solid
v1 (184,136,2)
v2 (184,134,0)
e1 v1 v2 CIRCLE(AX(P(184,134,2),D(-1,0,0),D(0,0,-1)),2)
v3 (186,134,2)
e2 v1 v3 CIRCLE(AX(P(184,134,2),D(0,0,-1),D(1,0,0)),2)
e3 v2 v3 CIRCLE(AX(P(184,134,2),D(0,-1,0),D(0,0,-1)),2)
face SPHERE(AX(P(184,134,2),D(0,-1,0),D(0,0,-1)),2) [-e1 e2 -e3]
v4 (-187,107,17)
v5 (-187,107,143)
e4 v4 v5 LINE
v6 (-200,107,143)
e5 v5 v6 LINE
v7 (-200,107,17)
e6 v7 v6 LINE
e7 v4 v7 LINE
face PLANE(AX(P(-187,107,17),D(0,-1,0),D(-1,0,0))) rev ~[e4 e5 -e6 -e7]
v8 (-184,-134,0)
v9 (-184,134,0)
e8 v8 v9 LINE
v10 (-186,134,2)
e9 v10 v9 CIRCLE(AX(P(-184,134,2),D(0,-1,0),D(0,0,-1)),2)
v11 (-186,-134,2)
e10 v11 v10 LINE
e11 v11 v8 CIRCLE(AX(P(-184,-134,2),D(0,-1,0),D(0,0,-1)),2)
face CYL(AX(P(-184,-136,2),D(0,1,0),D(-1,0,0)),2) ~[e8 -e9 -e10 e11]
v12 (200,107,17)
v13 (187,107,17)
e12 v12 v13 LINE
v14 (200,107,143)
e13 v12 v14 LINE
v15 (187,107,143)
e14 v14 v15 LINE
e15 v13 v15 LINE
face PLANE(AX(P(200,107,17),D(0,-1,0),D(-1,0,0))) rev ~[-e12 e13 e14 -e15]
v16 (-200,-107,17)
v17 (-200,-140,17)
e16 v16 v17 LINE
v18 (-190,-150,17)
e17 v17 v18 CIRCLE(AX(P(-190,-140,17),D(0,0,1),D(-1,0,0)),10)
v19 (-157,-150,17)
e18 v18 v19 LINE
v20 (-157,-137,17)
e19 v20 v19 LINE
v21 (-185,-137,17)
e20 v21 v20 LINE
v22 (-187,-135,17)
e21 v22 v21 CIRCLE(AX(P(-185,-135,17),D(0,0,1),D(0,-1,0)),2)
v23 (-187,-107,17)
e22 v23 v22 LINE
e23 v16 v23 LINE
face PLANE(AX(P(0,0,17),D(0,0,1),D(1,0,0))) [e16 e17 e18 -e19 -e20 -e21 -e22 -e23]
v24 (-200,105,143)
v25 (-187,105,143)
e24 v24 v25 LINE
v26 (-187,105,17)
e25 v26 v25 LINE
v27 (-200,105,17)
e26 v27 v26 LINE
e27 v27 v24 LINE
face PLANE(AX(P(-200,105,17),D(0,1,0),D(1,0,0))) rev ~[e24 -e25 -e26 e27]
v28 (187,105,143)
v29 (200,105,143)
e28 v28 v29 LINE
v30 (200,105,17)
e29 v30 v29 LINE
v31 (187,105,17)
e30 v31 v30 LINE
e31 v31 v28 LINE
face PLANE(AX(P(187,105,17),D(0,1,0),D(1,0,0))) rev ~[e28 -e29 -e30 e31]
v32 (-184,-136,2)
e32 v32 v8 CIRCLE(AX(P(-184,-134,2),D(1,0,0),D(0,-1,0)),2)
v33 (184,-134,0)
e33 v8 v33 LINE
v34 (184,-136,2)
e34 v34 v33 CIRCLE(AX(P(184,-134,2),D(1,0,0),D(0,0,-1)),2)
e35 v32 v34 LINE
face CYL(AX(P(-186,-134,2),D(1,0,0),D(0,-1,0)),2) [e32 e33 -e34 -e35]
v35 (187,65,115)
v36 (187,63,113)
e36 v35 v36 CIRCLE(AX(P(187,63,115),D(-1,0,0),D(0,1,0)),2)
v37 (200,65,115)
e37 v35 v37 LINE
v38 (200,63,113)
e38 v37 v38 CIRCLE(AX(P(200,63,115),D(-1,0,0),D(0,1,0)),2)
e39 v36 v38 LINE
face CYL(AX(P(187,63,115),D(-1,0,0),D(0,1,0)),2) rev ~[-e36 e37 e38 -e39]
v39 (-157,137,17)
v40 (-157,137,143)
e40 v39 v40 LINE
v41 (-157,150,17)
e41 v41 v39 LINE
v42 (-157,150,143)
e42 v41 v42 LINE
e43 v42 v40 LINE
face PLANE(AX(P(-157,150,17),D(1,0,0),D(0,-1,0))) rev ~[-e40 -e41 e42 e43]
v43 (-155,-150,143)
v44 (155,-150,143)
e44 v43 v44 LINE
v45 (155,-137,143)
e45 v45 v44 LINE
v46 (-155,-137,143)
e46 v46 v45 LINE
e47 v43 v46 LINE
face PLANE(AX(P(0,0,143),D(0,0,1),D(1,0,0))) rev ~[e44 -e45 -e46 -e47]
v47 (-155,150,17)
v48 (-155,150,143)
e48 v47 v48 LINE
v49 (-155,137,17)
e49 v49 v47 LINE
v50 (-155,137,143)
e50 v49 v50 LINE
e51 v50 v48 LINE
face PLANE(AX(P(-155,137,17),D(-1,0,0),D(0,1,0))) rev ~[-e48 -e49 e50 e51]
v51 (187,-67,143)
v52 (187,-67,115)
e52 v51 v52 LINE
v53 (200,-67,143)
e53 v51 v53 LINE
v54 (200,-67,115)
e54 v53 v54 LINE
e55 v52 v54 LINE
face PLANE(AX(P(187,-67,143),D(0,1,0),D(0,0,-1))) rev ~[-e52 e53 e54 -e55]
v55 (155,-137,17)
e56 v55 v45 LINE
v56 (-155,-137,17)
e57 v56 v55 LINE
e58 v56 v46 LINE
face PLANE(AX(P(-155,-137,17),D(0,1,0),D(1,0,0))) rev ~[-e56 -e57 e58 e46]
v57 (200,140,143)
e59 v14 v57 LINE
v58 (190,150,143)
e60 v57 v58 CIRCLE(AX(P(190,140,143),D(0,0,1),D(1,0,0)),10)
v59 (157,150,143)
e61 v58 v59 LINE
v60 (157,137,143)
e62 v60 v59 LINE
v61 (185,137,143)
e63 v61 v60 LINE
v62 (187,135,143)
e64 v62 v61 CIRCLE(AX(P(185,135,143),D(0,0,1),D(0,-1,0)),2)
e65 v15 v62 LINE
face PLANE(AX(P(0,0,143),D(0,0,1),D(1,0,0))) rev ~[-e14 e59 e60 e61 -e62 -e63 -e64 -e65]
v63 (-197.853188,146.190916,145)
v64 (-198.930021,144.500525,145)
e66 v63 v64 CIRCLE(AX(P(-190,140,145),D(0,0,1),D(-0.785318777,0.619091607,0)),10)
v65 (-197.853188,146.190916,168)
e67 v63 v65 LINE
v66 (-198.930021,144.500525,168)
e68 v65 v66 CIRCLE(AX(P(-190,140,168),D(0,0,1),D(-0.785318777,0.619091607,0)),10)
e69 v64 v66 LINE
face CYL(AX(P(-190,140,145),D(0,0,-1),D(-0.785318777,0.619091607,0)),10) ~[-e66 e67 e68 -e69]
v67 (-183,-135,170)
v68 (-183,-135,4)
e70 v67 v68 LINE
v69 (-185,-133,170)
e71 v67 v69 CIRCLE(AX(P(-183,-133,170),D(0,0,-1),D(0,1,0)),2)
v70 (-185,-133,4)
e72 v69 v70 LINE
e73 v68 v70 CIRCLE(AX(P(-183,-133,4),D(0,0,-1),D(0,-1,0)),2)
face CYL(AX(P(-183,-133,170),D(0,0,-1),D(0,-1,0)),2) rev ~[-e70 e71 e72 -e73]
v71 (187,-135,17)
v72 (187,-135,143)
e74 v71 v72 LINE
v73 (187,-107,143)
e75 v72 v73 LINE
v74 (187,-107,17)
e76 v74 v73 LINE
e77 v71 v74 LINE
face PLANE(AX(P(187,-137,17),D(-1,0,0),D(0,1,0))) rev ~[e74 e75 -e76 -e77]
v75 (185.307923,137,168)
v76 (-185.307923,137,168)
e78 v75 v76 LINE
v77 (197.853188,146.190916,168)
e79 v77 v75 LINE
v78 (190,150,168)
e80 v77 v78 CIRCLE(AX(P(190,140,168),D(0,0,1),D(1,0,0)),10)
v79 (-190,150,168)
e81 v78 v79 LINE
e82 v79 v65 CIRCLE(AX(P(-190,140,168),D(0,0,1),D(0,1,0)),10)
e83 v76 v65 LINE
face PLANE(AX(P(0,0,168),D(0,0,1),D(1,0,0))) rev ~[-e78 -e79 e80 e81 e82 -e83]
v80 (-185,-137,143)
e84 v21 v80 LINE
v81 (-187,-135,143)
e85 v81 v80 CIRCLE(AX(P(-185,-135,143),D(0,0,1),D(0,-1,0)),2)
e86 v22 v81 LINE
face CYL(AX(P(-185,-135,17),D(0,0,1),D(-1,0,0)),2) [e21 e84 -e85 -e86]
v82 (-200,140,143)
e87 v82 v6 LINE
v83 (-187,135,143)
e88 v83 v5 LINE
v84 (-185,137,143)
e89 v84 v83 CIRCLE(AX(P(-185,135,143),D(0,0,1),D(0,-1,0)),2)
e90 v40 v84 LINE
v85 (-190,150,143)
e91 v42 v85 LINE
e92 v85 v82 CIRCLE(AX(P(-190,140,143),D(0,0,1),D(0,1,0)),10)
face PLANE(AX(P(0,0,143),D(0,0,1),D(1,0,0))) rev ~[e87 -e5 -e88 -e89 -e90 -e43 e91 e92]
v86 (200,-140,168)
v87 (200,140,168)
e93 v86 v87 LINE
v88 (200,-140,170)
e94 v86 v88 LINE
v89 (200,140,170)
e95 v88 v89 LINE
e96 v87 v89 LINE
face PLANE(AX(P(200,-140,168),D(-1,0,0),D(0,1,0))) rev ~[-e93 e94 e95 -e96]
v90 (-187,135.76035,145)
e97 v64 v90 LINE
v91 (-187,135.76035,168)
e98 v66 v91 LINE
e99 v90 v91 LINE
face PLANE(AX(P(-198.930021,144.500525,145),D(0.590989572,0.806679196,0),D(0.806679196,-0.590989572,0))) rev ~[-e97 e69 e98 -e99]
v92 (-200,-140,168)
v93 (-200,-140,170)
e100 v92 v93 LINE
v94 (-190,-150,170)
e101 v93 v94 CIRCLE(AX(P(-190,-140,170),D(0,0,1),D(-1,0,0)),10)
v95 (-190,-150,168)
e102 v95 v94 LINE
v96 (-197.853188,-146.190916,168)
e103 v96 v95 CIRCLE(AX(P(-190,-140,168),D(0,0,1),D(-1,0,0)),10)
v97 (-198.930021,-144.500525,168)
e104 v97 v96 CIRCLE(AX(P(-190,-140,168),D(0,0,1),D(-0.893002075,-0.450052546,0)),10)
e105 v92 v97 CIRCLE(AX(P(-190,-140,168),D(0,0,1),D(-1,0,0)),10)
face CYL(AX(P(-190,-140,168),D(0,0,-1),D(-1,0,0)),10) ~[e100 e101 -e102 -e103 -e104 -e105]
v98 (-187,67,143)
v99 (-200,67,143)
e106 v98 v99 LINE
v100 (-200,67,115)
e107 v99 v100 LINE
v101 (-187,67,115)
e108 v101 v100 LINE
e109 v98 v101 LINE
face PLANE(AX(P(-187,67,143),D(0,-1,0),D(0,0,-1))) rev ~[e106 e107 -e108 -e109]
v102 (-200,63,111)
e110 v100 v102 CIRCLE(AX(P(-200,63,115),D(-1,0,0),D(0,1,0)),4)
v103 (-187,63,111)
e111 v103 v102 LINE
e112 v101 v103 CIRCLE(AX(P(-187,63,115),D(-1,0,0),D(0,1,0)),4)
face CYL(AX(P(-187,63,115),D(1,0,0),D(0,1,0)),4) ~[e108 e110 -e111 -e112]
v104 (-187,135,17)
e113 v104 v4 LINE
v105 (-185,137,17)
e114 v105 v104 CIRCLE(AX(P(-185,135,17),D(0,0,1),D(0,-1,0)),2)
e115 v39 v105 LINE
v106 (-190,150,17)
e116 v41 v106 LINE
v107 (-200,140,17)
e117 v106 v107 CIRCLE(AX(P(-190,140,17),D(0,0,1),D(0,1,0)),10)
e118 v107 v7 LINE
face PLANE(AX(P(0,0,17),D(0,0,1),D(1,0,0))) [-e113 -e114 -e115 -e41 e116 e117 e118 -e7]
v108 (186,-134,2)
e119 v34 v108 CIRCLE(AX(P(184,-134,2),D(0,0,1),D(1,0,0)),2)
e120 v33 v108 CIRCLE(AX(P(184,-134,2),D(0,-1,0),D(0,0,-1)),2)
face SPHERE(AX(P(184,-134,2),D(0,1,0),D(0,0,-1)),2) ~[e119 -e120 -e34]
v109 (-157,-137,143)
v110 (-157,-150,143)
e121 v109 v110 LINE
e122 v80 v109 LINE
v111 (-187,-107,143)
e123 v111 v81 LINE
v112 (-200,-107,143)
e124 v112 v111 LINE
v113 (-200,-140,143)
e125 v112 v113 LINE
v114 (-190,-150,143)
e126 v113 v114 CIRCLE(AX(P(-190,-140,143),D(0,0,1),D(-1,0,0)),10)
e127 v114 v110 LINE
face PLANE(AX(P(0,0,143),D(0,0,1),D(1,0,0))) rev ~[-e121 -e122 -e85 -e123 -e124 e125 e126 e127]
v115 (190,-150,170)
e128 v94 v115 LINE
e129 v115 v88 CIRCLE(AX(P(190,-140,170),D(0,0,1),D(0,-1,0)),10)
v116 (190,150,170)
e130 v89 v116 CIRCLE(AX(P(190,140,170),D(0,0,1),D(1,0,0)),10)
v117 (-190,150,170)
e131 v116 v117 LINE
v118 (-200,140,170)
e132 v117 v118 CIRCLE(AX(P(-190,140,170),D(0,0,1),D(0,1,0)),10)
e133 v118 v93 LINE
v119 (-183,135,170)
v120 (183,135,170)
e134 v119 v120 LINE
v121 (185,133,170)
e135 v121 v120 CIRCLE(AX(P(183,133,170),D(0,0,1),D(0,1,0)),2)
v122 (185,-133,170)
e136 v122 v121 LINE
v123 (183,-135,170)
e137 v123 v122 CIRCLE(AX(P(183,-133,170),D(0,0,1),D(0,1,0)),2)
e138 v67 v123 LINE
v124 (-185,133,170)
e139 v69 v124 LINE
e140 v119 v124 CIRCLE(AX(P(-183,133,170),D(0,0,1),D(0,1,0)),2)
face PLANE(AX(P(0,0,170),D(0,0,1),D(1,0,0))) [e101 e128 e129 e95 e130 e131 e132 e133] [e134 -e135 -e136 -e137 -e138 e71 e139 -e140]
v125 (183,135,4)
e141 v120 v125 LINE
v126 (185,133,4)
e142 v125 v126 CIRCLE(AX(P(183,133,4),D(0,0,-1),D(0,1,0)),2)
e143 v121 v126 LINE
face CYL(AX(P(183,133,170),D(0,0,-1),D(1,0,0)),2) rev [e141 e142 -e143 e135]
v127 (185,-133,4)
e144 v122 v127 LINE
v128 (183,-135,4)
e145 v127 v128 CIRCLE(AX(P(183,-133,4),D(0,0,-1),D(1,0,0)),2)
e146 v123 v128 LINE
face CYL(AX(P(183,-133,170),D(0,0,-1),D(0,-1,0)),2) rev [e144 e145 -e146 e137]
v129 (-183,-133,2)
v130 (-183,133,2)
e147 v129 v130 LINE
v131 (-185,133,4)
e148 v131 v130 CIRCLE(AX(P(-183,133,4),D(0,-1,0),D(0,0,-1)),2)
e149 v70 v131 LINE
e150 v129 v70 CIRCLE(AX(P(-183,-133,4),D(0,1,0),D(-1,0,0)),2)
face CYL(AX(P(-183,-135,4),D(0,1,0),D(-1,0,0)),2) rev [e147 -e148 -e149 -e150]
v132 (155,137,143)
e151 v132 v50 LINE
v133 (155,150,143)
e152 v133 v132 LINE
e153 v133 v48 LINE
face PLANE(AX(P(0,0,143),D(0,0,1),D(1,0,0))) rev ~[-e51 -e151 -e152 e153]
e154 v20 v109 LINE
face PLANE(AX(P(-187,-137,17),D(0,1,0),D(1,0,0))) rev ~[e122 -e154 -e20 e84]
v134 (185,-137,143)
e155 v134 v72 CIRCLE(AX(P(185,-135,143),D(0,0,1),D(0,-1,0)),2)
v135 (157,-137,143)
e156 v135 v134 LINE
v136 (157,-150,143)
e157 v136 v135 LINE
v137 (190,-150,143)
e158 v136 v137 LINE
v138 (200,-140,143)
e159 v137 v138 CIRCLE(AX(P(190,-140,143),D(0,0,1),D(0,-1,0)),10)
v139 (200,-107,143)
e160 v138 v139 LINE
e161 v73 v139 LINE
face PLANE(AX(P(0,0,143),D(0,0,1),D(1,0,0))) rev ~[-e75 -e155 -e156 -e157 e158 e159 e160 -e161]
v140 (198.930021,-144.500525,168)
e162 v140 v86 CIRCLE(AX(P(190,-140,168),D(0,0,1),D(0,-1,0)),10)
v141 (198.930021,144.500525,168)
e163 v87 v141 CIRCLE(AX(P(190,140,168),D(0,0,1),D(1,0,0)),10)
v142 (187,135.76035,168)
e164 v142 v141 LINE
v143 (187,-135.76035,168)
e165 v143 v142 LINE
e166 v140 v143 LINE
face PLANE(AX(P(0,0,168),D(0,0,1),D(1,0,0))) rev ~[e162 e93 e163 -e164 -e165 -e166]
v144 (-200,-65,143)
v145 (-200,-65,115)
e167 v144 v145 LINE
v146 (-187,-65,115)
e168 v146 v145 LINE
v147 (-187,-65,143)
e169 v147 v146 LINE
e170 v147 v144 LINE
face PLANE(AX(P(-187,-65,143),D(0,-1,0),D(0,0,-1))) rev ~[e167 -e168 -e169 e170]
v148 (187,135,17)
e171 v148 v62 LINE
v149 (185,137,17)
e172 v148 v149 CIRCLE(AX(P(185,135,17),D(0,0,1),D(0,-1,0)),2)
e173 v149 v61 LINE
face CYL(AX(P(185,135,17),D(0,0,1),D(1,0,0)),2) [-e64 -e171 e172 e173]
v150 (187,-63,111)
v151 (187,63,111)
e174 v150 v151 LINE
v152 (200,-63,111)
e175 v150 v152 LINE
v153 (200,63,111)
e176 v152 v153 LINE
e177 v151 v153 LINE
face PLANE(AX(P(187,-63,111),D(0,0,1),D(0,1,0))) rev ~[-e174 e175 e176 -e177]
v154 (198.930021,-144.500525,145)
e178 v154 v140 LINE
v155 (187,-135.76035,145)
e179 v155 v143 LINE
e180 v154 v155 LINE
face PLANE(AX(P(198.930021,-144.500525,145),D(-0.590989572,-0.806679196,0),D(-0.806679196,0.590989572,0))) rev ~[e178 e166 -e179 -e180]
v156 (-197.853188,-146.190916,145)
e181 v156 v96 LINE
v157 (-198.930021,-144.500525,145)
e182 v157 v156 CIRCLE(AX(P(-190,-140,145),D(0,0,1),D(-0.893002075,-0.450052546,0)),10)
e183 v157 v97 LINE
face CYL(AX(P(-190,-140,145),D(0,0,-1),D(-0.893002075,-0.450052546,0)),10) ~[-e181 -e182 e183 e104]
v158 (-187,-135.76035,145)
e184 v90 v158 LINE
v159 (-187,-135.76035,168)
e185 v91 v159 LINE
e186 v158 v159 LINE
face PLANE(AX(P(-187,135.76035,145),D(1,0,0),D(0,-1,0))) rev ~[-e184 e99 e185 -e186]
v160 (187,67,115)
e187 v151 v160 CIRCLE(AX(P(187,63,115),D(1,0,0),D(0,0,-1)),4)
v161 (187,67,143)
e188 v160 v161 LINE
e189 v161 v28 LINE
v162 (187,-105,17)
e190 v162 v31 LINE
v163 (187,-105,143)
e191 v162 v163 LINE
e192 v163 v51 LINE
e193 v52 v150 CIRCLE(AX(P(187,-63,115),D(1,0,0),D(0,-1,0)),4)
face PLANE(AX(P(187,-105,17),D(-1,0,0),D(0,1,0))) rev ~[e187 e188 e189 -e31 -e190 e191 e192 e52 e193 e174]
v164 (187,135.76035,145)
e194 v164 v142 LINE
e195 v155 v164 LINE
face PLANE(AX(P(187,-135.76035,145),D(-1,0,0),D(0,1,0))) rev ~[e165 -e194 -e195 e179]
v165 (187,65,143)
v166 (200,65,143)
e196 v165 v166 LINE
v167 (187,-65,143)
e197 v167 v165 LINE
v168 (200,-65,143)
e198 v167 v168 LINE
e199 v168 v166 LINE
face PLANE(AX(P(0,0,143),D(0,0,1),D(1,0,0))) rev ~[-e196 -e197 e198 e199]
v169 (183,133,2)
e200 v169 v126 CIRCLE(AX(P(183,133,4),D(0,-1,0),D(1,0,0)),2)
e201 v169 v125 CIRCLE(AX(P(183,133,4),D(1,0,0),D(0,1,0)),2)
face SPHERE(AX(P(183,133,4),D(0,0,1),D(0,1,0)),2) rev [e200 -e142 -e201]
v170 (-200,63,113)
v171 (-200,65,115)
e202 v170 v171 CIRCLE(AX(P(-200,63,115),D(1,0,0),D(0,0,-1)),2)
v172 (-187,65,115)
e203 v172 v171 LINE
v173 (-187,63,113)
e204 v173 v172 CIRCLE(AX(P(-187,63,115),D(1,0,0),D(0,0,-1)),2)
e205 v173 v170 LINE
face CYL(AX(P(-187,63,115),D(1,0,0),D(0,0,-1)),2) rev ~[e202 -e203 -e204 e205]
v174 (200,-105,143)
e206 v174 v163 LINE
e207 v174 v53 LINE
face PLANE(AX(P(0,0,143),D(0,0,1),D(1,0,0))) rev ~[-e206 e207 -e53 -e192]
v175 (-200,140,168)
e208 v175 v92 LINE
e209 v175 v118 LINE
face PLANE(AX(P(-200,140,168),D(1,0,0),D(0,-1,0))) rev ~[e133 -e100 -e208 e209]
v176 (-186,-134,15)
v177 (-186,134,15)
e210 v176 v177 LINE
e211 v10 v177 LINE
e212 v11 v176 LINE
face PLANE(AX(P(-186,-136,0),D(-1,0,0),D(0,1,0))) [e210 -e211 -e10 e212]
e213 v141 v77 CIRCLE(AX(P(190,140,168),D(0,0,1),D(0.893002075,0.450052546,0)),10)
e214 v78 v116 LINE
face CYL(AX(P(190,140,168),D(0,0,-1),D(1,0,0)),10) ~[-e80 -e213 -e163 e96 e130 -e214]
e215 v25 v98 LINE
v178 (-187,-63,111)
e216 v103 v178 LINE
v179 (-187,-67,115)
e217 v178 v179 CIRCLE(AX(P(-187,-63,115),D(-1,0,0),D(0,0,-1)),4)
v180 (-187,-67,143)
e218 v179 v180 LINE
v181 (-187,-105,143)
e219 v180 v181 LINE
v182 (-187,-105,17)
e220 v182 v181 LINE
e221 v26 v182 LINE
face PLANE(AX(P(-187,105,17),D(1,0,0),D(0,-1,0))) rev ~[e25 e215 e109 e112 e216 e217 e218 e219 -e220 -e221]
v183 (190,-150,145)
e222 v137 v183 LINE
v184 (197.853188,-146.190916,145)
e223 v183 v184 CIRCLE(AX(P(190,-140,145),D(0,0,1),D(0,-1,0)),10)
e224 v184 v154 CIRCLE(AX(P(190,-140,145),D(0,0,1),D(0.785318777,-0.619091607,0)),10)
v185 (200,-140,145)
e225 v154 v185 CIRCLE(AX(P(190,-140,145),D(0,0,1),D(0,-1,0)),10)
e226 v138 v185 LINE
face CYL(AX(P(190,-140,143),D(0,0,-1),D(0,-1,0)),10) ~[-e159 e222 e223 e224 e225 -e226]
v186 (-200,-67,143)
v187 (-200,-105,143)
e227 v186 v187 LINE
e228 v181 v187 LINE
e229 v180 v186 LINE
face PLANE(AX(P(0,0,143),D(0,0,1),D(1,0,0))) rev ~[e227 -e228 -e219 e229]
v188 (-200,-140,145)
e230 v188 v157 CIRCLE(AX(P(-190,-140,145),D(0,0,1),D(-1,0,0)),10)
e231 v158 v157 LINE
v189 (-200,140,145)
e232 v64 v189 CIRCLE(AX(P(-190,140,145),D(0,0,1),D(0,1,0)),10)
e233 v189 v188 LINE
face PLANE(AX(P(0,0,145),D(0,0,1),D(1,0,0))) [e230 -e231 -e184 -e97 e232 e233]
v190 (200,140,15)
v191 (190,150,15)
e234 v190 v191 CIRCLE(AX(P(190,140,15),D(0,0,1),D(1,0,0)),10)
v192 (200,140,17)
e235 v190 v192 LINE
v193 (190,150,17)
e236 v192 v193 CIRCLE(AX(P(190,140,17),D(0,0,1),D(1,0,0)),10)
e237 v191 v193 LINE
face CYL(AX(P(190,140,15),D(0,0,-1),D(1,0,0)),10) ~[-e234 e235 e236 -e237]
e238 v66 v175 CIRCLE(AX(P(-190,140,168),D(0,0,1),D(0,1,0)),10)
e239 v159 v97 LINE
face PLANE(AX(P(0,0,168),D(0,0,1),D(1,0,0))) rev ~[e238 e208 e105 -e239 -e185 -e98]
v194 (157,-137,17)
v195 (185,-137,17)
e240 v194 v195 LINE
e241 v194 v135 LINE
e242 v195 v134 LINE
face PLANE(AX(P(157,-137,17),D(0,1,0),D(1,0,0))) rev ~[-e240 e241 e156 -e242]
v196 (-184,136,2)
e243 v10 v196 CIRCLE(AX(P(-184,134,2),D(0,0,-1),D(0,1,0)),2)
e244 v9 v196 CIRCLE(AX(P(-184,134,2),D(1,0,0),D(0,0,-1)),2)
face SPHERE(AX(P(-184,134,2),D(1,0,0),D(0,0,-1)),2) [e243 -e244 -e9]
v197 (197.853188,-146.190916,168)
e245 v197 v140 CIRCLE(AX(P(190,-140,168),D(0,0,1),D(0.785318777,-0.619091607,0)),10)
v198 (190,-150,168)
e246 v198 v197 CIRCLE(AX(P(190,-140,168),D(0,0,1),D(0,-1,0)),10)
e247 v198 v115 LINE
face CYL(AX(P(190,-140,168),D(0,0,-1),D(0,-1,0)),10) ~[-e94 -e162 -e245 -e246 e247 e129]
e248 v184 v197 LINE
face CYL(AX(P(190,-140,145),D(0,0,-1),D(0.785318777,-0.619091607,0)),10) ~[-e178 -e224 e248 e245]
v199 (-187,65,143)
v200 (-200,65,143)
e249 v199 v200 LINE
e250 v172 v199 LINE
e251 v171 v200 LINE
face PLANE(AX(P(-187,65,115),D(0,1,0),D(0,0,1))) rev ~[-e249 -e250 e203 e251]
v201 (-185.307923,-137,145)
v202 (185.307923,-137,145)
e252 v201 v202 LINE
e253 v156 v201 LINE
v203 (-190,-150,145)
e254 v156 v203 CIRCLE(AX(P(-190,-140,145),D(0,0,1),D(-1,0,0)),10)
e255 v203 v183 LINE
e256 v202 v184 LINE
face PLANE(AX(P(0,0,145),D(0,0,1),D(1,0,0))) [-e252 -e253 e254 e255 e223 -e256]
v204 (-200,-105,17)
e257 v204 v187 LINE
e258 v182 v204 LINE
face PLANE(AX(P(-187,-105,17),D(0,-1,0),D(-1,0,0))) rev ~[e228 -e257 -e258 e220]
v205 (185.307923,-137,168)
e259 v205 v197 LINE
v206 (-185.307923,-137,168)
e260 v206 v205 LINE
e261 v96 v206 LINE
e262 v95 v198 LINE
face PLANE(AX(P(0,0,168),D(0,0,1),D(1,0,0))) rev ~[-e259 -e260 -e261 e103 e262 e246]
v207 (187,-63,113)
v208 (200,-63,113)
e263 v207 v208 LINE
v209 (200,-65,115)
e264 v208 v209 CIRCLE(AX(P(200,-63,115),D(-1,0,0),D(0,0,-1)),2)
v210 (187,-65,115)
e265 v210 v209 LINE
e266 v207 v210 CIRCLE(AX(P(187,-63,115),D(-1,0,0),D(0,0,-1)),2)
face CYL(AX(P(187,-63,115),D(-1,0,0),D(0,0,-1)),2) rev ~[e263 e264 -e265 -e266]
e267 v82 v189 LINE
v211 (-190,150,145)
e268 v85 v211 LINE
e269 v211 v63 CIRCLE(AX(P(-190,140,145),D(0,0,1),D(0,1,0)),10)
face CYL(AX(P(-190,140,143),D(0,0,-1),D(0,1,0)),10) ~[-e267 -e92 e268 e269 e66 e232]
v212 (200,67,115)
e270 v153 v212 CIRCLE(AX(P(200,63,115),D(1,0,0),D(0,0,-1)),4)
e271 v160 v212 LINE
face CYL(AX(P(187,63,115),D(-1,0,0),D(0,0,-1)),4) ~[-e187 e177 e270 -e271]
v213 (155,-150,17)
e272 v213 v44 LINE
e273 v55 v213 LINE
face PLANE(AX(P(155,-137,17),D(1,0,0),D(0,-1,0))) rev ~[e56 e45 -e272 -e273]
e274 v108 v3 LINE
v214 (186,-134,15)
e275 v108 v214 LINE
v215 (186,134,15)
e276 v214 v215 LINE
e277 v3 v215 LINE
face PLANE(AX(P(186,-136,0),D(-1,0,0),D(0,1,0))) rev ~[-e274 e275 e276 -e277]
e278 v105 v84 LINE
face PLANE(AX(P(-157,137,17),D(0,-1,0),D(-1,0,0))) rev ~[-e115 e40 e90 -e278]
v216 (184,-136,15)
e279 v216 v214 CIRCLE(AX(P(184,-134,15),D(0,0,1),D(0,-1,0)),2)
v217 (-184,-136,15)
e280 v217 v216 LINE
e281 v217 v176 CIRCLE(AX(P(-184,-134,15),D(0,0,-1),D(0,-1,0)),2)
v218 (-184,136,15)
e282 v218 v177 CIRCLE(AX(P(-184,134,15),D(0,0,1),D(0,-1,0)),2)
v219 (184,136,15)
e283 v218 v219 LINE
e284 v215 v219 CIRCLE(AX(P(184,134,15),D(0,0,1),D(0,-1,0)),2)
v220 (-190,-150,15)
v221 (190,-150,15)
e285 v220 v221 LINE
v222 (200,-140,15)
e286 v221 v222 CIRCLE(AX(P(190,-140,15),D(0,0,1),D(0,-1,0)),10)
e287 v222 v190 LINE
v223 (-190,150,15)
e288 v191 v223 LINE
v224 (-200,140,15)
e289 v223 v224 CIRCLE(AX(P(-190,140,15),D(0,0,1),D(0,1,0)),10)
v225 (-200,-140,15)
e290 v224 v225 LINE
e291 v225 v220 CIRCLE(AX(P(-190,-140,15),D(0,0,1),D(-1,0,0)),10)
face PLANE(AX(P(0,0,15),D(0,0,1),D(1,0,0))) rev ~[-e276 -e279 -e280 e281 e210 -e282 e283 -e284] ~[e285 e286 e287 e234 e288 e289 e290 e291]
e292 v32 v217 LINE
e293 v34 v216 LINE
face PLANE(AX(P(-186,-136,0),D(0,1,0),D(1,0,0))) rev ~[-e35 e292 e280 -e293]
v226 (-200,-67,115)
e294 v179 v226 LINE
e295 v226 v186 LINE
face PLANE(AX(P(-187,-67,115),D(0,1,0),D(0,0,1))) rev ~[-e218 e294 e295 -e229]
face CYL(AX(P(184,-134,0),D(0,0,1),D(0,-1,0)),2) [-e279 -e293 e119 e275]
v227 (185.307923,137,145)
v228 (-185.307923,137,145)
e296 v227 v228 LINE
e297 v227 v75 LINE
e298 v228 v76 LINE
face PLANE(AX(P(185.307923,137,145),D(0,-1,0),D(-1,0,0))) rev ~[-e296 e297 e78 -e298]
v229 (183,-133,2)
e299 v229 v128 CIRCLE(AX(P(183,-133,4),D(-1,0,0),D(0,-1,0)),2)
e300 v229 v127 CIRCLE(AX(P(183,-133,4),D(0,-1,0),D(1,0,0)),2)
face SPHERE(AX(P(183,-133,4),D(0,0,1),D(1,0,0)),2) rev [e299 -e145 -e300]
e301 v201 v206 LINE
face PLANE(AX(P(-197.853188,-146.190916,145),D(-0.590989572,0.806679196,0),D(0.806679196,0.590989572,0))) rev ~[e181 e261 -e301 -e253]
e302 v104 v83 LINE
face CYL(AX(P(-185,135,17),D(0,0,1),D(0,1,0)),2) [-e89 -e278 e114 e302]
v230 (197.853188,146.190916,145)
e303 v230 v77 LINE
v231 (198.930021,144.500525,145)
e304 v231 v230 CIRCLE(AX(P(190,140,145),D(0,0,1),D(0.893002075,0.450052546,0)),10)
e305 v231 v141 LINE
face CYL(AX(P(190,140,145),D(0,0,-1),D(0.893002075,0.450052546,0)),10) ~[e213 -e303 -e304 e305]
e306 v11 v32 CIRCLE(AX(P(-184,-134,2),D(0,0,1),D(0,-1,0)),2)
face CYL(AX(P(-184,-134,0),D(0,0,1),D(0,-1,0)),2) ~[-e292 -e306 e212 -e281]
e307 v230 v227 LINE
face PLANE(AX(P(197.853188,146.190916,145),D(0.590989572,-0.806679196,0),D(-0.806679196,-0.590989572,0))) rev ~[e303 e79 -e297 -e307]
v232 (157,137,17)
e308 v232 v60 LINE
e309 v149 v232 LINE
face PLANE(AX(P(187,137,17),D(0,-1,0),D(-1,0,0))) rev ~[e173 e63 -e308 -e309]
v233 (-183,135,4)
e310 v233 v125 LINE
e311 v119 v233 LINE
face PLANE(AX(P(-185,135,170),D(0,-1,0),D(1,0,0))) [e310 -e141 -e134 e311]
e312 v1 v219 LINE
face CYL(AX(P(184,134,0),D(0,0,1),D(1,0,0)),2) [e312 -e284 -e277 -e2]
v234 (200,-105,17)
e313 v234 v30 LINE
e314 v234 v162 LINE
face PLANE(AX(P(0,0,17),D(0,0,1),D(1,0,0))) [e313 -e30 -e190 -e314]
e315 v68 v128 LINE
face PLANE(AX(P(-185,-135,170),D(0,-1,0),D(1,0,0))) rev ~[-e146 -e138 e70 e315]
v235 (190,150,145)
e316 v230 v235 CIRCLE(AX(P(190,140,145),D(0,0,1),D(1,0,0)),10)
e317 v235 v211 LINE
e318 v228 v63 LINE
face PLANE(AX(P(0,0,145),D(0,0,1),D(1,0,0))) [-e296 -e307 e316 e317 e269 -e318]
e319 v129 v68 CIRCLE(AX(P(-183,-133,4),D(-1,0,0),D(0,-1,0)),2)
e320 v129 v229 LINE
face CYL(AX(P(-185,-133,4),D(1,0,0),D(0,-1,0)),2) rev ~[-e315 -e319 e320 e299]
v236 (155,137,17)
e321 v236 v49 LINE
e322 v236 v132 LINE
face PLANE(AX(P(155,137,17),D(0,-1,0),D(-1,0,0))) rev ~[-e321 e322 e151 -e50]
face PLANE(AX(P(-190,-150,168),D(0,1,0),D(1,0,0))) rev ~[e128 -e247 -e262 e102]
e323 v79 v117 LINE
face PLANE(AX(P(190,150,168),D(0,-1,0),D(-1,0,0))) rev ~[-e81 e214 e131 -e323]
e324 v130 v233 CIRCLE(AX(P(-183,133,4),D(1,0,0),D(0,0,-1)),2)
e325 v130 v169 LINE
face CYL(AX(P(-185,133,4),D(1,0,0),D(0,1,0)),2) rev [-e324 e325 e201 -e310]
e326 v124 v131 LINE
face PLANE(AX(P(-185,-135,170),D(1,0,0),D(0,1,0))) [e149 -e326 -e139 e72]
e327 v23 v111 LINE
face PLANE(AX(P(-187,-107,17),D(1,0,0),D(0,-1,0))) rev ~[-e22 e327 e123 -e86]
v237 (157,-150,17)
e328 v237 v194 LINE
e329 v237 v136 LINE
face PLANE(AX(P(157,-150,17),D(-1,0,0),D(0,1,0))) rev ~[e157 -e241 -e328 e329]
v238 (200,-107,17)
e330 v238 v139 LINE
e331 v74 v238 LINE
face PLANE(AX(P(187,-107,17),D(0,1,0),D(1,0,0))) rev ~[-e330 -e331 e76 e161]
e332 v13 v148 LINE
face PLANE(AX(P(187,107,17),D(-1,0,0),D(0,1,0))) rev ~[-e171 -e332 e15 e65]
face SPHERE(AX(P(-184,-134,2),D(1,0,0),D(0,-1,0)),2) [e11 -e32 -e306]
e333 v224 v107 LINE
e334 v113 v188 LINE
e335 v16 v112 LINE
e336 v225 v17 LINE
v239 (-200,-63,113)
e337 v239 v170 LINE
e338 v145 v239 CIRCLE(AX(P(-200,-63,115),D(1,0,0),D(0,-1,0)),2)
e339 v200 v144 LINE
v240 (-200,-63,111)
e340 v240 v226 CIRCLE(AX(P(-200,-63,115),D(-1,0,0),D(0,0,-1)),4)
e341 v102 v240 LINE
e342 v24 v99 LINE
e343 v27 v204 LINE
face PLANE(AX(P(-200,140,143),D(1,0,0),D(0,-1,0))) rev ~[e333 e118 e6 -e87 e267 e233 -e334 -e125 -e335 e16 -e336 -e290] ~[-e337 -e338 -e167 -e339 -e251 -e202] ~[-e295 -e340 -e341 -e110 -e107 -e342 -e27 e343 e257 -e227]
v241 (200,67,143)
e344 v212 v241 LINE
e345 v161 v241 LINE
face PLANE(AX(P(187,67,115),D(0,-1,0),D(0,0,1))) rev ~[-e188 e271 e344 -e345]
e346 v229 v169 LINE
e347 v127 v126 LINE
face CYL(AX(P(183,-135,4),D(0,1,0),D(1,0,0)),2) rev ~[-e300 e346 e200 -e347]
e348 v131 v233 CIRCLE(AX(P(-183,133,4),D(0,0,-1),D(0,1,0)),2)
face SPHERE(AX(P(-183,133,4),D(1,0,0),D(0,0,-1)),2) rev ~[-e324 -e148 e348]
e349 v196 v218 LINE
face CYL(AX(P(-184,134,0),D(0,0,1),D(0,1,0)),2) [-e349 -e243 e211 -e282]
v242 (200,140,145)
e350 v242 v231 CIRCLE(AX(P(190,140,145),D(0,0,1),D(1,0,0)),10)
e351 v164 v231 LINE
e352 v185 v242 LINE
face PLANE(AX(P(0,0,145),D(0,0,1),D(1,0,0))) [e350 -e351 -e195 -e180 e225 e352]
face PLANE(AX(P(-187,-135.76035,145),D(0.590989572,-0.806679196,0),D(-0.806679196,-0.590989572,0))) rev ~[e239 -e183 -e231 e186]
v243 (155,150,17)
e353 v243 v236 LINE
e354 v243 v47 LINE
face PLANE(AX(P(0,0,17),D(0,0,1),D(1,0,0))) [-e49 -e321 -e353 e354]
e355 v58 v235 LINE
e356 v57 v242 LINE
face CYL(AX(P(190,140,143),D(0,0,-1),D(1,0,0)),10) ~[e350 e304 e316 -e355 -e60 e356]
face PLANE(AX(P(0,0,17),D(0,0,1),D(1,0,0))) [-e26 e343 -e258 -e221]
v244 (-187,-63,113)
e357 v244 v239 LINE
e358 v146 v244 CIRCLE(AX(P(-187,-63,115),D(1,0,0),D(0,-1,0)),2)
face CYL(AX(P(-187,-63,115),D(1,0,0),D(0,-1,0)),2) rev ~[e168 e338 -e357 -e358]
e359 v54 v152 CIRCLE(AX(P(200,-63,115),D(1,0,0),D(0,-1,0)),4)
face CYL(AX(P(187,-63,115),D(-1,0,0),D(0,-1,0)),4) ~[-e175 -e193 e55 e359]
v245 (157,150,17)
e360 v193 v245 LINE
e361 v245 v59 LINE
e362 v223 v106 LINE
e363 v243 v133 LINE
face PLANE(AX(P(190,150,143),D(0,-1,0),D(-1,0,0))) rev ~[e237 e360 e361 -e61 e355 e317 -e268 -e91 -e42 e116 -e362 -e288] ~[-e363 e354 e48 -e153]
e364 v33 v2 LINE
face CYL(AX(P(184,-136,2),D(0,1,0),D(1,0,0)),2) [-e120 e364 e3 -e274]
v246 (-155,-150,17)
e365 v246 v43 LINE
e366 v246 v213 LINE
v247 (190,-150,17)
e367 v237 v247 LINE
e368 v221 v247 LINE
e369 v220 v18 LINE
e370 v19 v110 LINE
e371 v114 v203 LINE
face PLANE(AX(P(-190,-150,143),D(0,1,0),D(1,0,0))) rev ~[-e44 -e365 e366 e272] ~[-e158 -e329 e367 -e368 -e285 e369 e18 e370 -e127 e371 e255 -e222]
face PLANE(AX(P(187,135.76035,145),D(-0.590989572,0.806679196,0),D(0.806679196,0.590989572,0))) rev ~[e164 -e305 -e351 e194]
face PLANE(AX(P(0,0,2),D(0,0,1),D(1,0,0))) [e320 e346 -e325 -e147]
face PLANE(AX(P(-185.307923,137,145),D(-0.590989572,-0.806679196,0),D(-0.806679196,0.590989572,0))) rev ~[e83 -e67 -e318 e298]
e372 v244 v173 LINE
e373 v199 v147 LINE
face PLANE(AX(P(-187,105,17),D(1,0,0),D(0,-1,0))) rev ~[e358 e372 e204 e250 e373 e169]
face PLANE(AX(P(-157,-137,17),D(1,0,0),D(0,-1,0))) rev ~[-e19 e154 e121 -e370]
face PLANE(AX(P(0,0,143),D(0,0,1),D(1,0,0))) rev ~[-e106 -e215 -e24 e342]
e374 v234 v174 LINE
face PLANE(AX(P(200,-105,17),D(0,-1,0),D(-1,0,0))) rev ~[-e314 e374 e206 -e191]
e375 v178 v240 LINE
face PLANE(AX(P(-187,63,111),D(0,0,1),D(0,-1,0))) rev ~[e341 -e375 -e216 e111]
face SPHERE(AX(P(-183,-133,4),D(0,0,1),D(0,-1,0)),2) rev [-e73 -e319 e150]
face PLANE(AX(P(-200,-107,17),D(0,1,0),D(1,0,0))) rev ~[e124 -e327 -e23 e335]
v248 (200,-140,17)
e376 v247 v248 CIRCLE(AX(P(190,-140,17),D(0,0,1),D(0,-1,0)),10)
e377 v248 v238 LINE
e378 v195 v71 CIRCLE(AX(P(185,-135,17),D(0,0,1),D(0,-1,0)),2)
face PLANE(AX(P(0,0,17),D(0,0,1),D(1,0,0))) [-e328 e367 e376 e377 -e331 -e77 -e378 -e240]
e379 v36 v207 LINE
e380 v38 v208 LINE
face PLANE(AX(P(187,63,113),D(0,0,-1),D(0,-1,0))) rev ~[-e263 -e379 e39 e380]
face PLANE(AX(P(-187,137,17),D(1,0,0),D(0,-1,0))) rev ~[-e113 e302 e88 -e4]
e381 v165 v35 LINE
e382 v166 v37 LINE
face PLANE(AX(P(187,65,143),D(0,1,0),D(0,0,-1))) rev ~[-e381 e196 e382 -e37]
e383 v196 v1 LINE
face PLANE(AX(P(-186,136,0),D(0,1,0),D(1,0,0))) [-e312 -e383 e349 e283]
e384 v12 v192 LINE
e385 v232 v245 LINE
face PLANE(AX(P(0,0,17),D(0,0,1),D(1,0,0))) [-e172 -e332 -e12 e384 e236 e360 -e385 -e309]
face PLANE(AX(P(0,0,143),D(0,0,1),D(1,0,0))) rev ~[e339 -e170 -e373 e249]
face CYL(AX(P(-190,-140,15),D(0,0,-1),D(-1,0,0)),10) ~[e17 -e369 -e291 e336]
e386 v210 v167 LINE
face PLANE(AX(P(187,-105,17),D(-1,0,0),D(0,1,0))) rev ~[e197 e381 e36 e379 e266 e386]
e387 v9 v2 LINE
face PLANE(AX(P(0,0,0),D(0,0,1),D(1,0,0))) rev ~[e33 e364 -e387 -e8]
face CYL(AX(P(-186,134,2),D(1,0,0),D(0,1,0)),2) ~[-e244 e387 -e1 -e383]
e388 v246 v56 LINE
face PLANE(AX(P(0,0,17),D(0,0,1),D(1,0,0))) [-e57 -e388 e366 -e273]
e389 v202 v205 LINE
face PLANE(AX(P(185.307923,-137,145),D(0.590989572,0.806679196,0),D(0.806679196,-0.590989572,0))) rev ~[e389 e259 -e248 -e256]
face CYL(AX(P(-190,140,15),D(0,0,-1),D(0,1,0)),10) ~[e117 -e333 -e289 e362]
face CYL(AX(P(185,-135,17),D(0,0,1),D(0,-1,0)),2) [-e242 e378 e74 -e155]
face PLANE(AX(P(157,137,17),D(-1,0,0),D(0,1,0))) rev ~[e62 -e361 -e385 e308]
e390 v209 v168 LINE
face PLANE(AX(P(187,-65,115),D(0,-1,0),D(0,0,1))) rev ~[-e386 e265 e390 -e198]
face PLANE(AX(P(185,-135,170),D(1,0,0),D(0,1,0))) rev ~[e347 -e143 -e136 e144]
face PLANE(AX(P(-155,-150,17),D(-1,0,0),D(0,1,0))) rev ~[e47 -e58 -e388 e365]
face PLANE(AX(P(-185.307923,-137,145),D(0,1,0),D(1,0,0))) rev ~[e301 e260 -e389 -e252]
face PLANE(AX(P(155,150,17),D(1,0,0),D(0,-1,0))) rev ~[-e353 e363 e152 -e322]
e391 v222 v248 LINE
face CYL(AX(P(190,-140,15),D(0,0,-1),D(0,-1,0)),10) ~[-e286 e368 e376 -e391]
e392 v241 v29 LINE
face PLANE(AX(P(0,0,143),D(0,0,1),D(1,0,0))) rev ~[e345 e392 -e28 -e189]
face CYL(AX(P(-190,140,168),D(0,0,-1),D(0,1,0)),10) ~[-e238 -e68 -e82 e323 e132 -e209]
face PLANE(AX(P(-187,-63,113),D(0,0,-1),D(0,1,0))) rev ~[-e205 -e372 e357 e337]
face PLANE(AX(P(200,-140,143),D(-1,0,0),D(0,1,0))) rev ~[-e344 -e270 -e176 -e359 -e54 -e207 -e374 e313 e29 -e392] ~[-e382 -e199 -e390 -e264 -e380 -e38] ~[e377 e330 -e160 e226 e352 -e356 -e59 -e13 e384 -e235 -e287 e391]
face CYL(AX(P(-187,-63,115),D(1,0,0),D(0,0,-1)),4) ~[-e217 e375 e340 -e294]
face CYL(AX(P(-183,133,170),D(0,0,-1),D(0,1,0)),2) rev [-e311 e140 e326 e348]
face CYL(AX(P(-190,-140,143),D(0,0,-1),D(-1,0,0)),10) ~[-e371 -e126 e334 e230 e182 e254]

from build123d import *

# Parameters (mm, degrees)
F0_W      = 372
F0_H      = 272
F1_DEPTH  = 15
F2_W      = 372
F2_H      = 272
F3_DEPTH  = 2
F5_DEPTH  = 126
F7_DEPTH  = 2
F9_DEPTH  = 23
F11_DEPTH = 2
F12_W     = 370
F12_H     = 270
F13_DEPTH = 168
F15_DEPTH = 13
F17_DEPTH = 13
F18_R     = 2


with BuildPart() as f1:
    # F0 (on Top) → F1 (new body)
    with BuildSketch(Plane.XY):
        Rectangle(F0_W, F0_H)
    extrude(amount=F1_DEPTH)

    # F2 (on face) → F3 (join)
    with BuildSketch(Plane.XY.offset(15)):
        with BuildLine():
            Line((-190, -150), (190, -150))
            ThreePointArc((190, -150), (197.0710678119, -147.0710678119), (200, -140))
            Line((200, -140), (200, 140))
            ThreePointArc((200, 140), (197.0710678119, 147.0710678119), (190, 150))
            Line((190, 150), (-190, 150))
            ThreePointArc((-190, 150), (-197.0710678119, 147.0710678119), (-200, 140))
            Line((-200, 140), (-200, -140))
            ThreePointArc((-200, -140), (-197.0710678119, -147.0710678119), (-190, -150))
        make_face()
        Rectangle(F2_W, F2_H, mode=Mode.SUBTRACT)
        Rectangle(F2_W, F2_H)
    extrude(amount=F3_DEPTH)

    # F4 (on face) → F5 (join)
    with BuildSketch(Plane.XY.offset(17)):
        Polygon((157, -137), (187, -137), (187, -107), (200, -107), (200, -105), (187, -105), (187, 105), (200, 105), (200, 107), (187, 107), (187, 137), (157, 137), (157, 150), (155, 150), (155, 137), (-155, 137), (-155, 150), (-157, 150), (-157, 137), (-187, 137), (-187, 107), (-200, 107), (-200, 105), (-187, 105), (-187, -105), (-200, -105), (-200, -107), (-187, -107), (-187, -137), (-157, -137), (-157, -150), (-155, -150), (-155, -137), (155, -137), (155, -150), (157, -150), align=None)
    extrude(amount=F5_DEPTH)

    # F6 (on face) → F7 (join)
    with BuildSketch(Plane.XY.offset(143)):
        with BuildLine():
            Line((190, 150), (-190, 150))
            ThreePointArc((-190, 150), (-197.0710678119, 147.0710678119), (-200, 140))
            Line((-200, 140), (-200, -140))
            ThreePointArc((-200, -140), (-197.0710678119, -147.0710678119), (-190, -150))
            Line((-190, -150), (190, -150))
            ThreePointArc((190, -150), (197.0710678119, -147.0710678119), (200, -140))
            Line((200, -140), (200, 140))
            ThreePointArc((200, 140), (197.0710678119, 147.0710678119), (190, 150))
        make_face()
    extrude(amount=F7_DEPTH)

    # F8 (on face) → F9 (join)
    with BuildSketch(Plane.XY.offset(145)):
        with BuildLine():
            Line((-185.3079227659, -137), (185.3079227659, -137))
            Line((185.3079227659, -137), (197.8531877713, -146.1909160735))
            ThreePointArc((197.8531877713, -146.1909160735), (198.4340605379, -145.3727667773), (198.9300207482, -144.5005254622))
            Line((198.9300207482, -144.5005254622), (187, -135.7603498338))
            Line((187, -135.7603498338), (187, 135.7603498338))
            Line((187, 135.7603498338), (198.9300207482, 144.5005254622))
            ThreePointArc((198.9300207482, 144.5005254622), (198.4340605379, 145.3727667773), (197.8531877713, 146.1909160735))
            Line((197.8531877713, 146.1909160735), (185.3079227659, 137))
            Line((185.3079227659, 137), (-185.3079227659, 137))
            Line((-185.3079227659, 137), (-197.8531877713, 146.1909160735))
            ThreePointArc((-197.8531877713, 146.1909160735), (-198.4340605379, 145.3727667773), (-198.9300207482, 144.5005254622))
            Line((-198.9300207482, 144.5005254622), (-187, 135.7603498338))
            Line((-187, 135.7603498338), (-187, -135.7603498338))
            Line((-187, -135.7603498338), (-198.9300207482, -144.5005254622))
            ThreePointArc((-198.9300207482, -144.5005254622), (-198.4340605379, -145.3727667773), (-197.8531877713, -146.1909160735))
            Line((-197.8531877713, -146.1909160735), (-185.3079227659, -137))
        make_face()
    extrude(amount=F9_DEPTH)

    # F10 (on face) → F11 (join)
    with BuildSketch(Plane.XY.offset(168)):
        with BuildLine():
            Line((-190, -150), (190, -150))
            ThreePointArc((190, -150), (197.0710678119, -147.0710678119), (200, -140))
            Line((200, -140), (200, 140))
            ThreePointArc((200, 140), (197.0710678119, 147.0710678119), (190, 150))
            Line((190, 150), (-190, 150))
            ThreePointArc((-190, 150), (-197.0710678119, 147.0710678119), (-200, 140))
            Line((-200, 140), (-200, -140))
            ThreePointArc((-200, -140), (-197.0710678119, -147.0710678119), (-190, -150))
        make_face()
    extrude(amount=F11_DEPTH)

    # F12 (on face) → F13 (cut)
    with BuildSketch(Plane.XY.offset(170)):
        Rectangle(F12_W, F12_H)
    extrude(amount=-F13_DEPTH, mode=Mode.SUBTRACT)

    # F14 (on face) → F15 (join, through all)
    with BuildSketch(Plane(origin=(-187, 0, 0), x_dir=(0, -1, 0), z_dir=(-1, 0, 0))):
        with BuildLine():
            Line((-63, 111), (63, 111))
            ThreePointArc((63, 111), (65.8284271247, 112.1715728753), (67, 115))
            Line((67, 115), (67, 143))
            Line((67, 143), (65, 143))
            Line((65, 143), (65, 115))
            ThreePointArc((65, 115), (64.4142135624, 113.5857864376), (63, 113))
            Line((63, 113), (-63, 113))
            ThreePointArc((-63, 113), (-64.4142135624, 113.5857864376), (-65, 115))
            Line((-65, 115), (-65, 143))
            Line((-65, 143), (-67, 143))
            Line((-67, 143), (-67, 115))
            ThreePointArc((-67, 115), (-65.8284271247, 112.1715728753), (-63, 111))
        make_face()
    extrude(amount=F15_DEPTH)

    # F16 (on face) → F17 (join, through all)
    with BuildSketch(Plane.YZ.offset(187)):
        with BuildLine():
            ThreePointArc((63, 111), (65.8284271247, 112.1715728753), (67, 115))
            Line((67, 115), (67, 143))
            Line((67, 143), (65, 143))
            Line((65, 143), (65, 115))
            ThreePointArc((65, 115), (64.4142135624, 113.5857864376), (63, 113))
            Line((63, 113), (-63, 113))
            ThreePointArc((-63, 113), (-64.4142135624, 113.5857864376), (-65, 115))
            Line((-65, 115), (-65, 143))
            Line((-65, 143), (-67, 143))
            Line((-67, 143), (-67, 115))
            ThreePointArc((-67, 115), (-65.8284271247, 112.1715728753), (-63, 111))
            Line((-63, 111), (63, 111))
        make_face()
    extrude(amount=F17_DEPTH)

    # F18
    f18_edges = [f1.edges().sort_by_distance(p)[0] for p in [
        (-185, -135, 86),
        (185, -135, 86),
        (185, 135, 86),
        (0, 135, 2),
        (185, 0, 2),
        (0, -135, 2),
        (-185, 0, 2),
        (-185, 135, 86),
        (187, -137, 80),
        (187, 137, 80),
        (-187, 137, 80),
        (-187, -137, 80),
        (186, 0, 0),
        (0, 136, 0),
        (186, 136, 7.5),
        (0, -136, 0),
        (186, -136, 7.5),
        (-186, -136, 7.5),
        (-186, 0, 0),
        (-186, 136, 7.5),
    ]]
    fillet(f18_edges, radius=F18_R)


solid = f1.part
